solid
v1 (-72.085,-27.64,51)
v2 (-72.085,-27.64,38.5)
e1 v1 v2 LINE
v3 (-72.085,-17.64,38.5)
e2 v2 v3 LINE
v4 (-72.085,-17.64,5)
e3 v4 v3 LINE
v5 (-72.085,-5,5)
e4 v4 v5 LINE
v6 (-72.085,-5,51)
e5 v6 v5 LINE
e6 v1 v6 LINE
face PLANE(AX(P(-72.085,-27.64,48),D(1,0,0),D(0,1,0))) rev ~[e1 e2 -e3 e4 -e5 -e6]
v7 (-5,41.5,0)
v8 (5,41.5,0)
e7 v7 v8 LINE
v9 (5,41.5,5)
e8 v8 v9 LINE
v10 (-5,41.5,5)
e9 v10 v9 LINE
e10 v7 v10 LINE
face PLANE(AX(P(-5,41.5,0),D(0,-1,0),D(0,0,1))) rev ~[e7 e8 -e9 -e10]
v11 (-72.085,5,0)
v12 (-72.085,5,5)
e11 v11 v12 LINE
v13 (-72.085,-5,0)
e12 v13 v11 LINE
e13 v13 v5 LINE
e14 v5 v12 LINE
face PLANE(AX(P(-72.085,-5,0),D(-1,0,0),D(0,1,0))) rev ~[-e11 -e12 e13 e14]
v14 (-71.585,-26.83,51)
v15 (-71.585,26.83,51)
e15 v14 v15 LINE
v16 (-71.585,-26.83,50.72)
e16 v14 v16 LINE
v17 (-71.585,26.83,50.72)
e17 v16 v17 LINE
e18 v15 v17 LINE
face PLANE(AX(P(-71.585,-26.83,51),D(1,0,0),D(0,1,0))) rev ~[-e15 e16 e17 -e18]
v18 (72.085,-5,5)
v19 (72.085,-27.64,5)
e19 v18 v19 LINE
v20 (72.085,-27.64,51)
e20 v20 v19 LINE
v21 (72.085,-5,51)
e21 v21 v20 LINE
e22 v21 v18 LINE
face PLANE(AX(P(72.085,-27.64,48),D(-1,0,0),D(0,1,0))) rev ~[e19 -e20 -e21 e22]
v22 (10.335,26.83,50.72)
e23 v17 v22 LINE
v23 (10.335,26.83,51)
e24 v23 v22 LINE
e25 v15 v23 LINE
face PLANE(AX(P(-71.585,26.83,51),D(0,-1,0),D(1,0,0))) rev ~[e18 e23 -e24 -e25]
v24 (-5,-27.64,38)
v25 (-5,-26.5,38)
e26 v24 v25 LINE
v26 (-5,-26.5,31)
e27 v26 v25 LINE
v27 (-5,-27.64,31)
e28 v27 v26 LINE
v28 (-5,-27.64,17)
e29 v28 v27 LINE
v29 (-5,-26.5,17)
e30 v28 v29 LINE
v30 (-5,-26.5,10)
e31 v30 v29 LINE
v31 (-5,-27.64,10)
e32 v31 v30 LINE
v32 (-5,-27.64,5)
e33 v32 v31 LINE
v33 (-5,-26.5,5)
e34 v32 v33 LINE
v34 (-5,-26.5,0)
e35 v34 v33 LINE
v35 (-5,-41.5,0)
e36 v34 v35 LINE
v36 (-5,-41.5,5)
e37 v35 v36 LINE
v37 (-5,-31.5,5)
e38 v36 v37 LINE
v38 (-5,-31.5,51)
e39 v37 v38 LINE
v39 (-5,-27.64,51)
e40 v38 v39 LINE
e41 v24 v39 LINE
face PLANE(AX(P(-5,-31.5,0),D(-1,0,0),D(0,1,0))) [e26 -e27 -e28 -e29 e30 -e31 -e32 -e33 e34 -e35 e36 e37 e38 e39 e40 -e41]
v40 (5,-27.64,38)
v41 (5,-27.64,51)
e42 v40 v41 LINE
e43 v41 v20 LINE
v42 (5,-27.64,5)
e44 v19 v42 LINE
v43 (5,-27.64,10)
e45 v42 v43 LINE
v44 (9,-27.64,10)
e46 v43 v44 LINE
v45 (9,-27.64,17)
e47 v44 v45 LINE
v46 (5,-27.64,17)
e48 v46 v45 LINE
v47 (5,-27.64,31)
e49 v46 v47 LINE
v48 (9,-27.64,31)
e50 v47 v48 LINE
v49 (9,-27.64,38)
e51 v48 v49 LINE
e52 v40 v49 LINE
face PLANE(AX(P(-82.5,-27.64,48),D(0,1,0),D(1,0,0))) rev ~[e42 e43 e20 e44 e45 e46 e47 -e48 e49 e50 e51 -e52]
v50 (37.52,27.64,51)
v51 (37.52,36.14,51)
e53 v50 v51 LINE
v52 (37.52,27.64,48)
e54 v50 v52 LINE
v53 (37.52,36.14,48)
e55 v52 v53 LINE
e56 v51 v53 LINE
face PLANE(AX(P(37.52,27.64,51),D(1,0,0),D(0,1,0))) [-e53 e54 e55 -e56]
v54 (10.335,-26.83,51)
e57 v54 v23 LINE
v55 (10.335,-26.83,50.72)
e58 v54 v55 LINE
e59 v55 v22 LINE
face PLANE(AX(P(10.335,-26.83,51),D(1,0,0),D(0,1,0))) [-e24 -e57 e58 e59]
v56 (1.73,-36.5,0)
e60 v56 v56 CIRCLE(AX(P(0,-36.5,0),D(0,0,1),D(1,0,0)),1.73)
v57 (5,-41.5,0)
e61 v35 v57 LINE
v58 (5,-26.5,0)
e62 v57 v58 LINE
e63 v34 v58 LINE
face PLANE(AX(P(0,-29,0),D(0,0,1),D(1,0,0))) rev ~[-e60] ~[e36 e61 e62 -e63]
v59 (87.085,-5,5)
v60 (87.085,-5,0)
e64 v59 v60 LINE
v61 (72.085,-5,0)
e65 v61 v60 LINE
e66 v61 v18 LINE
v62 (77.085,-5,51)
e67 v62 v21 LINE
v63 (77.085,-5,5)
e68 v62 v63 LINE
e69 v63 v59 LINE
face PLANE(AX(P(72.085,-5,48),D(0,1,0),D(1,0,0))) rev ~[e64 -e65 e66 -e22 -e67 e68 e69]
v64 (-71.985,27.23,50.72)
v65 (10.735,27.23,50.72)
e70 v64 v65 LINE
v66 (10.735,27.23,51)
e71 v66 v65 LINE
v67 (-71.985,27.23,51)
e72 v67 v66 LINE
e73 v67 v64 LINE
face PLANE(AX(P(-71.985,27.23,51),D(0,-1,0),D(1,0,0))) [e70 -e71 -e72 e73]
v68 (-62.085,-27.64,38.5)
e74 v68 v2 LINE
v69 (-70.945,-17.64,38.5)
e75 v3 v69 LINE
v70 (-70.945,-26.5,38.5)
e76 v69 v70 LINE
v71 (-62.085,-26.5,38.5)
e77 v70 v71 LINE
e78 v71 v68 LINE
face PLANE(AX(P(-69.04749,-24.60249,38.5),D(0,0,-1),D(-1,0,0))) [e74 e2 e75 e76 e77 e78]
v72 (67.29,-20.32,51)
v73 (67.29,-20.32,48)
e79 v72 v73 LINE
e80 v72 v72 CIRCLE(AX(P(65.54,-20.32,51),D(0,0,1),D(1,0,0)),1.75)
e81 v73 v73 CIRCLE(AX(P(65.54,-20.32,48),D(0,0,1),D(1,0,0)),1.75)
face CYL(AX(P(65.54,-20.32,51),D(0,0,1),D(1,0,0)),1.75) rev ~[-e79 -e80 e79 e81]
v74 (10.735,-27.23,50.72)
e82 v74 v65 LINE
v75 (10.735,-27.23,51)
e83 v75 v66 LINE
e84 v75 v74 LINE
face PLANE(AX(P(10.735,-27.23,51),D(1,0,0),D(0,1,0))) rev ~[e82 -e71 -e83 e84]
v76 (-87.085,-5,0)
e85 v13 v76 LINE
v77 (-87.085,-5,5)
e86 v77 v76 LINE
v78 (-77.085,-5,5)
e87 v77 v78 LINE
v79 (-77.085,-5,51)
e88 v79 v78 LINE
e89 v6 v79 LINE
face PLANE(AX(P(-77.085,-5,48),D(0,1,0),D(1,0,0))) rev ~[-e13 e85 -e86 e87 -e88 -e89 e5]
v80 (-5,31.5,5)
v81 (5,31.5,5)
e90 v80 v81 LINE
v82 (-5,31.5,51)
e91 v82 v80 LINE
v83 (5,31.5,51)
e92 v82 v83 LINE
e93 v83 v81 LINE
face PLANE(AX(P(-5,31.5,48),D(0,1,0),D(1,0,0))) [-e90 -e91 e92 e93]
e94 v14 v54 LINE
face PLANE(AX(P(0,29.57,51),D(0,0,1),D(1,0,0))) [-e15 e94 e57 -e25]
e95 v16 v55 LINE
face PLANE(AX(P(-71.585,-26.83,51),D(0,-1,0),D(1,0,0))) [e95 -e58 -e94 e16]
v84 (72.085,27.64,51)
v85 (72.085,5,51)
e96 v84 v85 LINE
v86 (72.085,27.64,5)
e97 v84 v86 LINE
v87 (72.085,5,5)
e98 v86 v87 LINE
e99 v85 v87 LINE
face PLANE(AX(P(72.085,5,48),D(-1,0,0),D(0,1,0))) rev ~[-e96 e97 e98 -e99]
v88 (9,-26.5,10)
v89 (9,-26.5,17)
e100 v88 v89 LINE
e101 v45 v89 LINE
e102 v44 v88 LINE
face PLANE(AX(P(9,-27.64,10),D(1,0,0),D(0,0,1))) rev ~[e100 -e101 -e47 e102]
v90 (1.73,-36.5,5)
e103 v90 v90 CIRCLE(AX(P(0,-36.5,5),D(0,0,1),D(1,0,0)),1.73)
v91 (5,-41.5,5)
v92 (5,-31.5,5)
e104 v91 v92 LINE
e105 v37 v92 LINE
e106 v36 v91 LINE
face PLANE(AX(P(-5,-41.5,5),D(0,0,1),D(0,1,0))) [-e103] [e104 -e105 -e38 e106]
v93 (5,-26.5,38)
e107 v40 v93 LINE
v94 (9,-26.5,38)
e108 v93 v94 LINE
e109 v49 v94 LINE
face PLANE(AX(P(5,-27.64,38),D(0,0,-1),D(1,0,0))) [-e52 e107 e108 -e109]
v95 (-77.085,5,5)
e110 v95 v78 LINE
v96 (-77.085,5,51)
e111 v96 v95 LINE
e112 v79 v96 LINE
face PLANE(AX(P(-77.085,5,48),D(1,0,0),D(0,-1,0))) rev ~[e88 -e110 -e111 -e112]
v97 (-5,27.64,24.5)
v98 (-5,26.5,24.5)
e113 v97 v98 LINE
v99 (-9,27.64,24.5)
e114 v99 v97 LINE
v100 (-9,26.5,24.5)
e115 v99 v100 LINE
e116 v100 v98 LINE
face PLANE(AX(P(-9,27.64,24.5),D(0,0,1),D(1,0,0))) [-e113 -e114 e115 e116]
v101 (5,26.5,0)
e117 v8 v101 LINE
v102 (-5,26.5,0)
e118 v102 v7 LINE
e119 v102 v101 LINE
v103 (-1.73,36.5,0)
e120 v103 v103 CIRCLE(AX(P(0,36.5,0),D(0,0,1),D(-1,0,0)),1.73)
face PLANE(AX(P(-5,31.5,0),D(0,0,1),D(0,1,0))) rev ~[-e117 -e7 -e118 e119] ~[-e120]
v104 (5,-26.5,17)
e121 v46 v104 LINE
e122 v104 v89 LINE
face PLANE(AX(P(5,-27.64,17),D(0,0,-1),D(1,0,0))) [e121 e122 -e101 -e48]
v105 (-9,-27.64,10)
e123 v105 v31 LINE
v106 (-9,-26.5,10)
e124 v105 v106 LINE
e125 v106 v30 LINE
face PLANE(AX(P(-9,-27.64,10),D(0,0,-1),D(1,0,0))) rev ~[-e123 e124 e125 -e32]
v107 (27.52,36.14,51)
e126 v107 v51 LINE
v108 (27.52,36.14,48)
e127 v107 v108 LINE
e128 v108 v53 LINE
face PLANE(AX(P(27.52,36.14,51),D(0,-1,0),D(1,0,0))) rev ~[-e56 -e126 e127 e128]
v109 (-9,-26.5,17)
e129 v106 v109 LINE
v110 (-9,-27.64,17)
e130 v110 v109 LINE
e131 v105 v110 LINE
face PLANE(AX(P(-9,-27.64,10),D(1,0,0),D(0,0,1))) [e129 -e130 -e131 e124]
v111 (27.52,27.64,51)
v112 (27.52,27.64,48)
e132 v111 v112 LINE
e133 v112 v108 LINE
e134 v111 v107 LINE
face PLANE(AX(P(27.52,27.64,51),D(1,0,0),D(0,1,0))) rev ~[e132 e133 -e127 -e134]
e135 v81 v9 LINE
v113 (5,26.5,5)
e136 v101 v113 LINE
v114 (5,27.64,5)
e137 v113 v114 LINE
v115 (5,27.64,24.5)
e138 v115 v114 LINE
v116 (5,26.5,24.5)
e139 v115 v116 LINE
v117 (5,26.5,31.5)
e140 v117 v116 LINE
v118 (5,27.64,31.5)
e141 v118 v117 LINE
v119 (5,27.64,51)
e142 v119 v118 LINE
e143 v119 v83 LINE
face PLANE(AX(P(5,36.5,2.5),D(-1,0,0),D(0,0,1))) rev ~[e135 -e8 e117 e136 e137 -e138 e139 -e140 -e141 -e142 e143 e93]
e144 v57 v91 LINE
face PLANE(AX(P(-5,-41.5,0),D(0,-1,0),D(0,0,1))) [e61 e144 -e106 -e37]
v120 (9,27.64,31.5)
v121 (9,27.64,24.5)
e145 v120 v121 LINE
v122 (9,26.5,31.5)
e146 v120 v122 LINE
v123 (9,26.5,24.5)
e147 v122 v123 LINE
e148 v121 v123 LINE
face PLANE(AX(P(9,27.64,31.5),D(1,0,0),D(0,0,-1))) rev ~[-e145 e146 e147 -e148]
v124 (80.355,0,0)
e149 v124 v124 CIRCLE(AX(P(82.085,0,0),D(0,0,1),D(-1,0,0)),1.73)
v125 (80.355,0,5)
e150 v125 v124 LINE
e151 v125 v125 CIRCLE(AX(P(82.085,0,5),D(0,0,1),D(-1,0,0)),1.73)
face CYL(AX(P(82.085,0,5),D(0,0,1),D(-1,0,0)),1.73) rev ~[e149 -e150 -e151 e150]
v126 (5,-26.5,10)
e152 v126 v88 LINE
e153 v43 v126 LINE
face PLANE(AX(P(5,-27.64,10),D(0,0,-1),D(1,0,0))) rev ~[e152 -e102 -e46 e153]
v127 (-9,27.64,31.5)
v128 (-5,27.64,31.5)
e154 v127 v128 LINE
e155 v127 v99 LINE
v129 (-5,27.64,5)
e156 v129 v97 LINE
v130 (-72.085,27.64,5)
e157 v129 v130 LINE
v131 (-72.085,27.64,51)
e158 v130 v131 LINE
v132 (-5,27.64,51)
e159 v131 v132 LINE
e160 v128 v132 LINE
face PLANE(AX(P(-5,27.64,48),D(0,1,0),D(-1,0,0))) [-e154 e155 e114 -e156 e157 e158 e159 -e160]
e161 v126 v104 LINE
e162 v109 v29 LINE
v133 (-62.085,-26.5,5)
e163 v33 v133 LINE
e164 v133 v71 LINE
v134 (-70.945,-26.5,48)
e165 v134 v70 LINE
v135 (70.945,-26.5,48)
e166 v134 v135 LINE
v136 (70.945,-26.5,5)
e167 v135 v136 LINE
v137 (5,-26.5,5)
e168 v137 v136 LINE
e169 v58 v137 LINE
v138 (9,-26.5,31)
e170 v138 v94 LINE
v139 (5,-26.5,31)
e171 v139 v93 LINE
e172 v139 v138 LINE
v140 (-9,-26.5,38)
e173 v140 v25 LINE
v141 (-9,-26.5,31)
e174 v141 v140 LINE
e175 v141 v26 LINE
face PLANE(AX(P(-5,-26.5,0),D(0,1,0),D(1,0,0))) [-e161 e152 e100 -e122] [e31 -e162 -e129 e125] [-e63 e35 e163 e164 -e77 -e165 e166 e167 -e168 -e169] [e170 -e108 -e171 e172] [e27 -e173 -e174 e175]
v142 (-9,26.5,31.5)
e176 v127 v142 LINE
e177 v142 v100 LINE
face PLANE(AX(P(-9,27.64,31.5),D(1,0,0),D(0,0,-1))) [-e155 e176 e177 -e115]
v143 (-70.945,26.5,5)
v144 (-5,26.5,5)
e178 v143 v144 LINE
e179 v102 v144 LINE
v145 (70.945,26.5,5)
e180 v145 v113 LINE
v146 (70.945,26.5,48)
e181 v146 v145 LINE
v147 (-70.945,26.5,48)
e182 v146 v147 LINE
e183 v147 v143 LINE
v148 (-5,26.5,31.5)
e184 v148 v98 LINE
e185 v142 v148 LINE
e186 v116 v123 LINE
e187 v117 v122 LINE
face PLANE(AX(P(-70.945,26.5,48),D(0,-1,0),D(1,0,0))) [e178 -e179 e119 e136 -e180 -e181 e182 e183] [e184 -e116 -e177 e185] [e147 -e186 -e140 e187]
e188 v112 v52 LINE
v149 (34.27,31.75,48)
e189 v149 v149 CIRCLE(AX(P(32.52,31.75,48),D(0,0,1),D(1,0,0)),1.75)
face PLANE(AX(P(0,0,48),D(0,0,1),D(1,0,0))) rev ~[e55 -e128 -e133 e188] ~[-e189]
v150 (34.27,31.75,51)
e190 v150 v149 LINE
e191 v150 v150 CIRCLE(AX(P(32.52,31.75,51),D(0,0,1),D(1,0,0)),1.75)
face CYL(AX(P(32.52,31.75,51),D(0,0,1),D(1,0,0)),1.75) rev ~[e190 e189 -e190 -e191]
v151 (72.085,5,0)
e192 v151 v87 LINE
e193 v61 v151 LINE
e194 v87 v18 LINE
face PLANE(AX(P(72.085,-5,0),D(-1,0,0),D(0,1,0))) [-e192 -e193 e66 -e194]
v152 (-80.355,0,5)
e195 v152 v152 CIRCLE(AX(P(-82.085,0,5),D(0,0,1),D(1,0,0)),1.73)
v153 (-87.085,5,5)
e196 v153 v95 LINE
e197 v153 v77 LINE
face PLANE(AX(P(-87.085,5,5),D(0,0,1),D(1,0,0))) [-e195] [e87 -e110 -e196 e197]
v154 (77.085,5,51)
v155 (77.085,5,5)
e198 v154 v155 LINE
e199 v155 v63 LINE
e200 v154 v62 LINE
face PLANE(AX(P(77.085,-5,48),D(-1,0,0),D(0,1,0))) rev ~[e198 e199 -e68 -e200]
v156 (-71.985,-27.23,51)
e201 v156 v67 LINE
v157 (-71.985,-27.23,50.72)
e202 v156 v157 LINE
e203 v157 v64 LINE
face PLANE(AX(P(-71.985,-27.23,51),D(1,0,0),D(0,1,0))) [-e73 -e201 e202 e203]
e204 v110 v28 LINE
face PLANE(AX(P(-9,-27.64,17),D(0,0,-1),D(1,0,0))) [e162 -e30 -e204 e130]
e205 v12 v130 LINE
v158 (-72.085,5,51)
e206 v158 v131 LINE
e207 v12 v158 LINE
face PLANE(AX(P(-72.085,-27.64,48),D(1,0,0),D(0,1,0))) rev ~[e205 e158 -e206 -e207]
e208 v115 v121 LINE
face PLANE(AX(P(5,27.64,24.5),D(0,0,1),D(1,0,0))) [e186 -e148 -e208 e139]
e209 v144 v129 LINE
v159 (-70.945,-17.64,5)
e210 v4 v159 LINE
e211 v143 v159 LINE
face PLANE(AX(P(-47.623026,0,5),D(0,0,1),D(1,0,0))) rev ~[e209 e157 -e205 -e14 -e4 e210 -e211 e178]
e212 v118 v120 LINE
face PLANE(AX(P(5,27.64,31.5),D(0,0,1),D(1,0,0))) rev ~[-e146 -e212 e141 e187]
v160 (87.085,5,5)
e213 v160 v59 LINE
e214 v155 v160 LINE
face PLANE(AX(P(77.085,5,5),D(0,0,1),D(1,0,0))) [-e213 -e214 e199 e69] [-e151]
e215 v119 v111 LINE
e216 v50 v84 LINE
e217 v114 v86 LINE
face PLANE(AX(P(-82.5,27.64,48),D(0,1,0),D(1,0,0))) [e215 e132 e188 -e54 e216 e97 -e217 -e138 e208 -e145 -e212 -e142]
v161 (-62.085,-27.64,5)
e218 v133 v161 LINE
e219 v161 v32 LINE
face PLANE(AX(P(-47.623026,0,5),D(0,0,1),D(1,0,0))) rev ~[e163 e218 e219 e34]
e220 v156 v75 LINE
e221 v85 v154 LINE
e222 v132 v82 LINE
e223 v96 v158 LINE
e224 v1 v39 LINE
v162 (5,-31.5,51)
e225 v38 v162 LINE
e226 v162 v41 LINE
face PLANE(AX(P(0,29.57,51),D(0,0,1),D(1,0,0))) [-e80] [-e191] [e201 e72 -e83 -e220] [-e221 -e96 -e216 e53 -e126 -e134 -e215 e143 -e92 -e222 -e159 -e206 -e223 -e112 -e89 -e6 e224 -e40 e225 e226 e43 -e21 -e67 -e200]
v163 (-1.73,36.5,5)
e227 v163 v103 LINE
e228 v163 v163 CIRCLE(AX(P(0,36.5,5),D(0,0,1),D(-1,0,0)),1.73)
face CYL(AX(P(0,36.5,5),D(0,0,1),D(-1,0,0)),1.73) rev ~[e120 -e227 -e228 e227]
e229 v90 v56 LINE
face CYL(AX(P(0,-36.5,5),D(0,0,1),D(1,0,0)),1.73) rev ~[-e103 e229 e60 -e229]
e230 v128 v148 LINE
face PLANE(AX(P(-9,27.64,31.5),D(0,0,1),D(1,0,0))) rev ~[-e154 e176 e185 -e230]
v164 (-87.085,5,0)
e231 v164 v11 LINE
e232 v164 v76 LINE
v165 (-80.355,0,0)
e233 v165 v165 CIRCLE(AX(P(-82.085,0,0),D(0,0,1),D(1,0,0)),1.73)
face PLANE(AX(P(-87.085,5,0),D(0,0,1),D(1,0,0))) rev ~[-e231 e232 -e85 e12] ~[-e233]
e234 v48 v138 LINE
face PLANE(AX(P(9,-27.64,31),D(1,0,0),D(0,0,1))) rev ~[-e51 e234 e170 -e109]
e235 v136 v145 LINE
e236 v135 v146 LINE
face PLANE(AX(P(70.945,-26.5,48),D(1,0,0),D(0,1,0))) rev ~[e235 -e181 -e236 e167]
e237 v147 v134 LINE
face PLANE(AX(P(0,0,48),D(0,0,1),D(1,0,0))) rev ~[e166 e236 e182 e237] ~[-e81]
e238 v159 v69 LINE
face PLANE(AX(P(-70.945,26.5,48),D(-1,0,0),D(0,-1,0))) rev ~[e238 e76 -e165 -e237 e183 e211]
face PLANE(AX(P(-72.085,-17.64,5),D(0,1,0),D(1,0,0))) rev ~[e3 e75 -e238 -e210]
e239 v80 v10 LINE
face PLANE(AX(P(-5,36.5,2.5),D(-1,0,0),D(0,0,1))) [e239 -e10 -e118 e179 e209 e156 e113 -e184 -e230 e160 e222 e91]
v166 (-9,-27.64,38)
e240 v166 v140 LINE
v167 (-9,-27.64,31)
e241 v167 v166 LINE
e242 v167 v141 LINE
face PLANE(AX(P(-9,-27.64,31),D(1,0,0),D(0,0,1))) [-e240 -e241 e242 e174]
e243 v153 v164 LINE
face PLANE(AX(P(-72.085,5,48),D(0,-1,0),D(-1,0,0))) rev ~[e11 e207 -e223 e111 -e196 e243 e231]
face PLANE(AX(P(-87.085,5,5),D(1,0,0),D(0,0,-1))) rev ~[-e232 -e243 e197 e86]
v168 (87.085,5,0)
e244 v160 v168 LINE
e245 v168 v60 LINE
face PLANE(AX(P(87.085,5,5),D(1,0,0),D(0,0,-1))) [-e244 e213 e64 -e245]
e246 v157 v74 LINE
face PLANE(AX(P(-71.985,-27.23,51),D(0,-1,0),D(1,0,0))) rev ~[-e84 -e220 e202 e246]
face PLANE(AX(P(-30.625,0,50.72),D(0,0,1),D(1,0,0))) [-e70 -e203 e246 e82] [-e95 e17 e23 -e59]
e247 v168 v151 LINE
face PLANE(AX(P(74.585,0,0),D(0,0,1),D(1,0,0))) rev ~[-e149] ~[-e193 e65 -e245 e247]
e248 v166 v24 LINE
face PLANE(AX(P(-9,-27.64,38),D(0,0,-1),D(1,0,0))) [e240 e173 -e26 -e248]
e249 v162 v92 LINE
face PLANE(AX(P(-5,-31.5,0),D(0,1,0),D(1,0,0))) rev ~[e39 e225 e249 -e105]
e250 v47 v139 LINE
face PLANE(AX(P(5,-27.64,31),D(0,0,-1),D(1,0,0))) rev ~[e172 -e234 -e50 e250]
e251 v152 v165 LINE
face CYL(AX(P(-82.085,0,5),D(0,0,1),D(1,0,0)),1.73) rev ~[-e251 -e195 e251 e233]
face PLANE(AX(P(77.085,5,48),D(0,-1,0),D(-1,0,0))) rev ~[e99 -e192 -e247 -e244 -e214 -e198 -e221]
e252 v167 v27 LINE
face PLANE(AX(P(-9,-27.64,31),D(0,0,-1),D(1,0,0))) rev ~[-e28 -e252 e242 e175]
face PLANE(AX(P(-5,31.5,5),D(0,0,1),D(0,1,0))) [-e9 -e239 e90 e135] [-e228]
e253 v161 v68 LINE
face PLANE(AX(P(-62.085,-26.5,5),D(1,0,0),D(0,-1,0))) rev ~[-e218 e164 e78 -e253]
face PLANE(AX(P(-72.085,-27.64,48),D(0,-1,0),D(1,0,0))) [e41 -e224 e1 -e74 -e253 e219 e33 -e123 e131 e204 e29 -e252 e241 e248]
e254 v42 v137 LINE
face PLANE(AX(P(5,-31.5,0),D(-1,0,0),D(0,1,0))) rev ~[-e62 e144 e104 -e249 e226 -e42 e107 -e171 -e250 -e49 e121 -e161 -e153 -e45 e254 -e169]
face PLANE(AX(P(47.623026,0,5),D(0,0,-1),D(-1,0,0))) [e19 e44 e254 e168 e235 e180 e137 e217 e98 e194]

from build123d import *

# Parameters (mm, degrees)
SKETCH2_W             = 5
SKETCH2_H             = 10
BOSS_EXTRUDE1_DEPTH   = 48
SKETCH2_W_2           = 10
SKETCH2_H_2           = 5
BOSS_EXTRUDE1_2_DEPTH = 48
BOSS_EXTRUDE1_3_DEPTH = 48
BOSS_EXTRUDE1_4_DEPTH = 48
SKETCH3_W             = 165
SKETCH3_H             = 55.28
BOSS_EXTRUDE2_DEPTH   = 3
SKETCH4_W             = 10
SKETCH4_H             = 3.86
BOSS_EXTRUDE3_DEPTH   = 3
SKETCH5_W             = 10
SKETCH5_H             = 5
BOSS_EXTRUDE4_DEPTH   = 10
SKETCH7_W             = 5
SKETCH7_H             = 10
BOSS_EXTRUDE5_DEPTH   = 10
SKETCH8_R             = 1.73
CUT_EXTRUDE1_DEPTH    = 107.873978241
SKETCH10_W            = 10
SKETCH10_H            = 8.5
SKETCH10_W_2          = 1.85
SKETCH10_H_2          = 10
BOSS_EXTRUDE6_DEPTH   = 3
SKETCH11_R            = 1.75
CUT_EXTRUDE3_DEPTH    = 110.119417268
SKETCH12_W            = 82.72
SKETCH12_H            = 54.46
SKETCH12_W_2          = 81.92
SKETCH12_H_2          = 53.66
CUT_EXTRUDE4_DEPTH    = 0.28
CUT_EXTRUDE5_DEPTH    = 108.749929118
BOSS_EXTRUDE7_DEPTH   = 43
CUT_EXTRUDE6_DEPTH    = 33.5
SKETCH16_W            = 4
SKETCH16_H            = 7
CUT_EXTRUDE7_DEPTH    = 1.14
SKETCH17_W            = 4
SKETCH17_H            = 7
CUT_EXTRUDE8_DEPTH    = 1.14


with BuildPart() as part:
    # Sketch2 → Boss-Extrude1 (new body)
    with BuildSketch(Plane.XY):
        with Locations((-74.585, 0)):
            Rectangle(SKETCH2_W, SKETCH2_H)
    extrude(amount=BOSS_EXTRUDE1_DEPTH)



with BuildPart() as body_2:
    # Sketch2 → Boss-Extrude1 2 (new body)
    with BuildSketch(Plane.XY):
        with Locations((0, 29)):
            Rectangle(SKETCH2_W_2, SKETCH2_H_2)
    extrude(amount=BOSS_EXTRUDE1_2_DEPTH)


with BuildPart() as body_3:
    # Sketch2 → Boss-Extrude1 3 (new body)
    with BuildSketch(Plane.XY):
        with Locations((74.585, 0)):
            Rectangle(SKETCH2_W, SKETCH2_H)
    extrude(amount=BOSS_EXTRUDE1_3_DEPTH)


with BuildPart() as body_4:
    # Sketch2 → Boss-Extrude1 4 (new body)
    with BuildSketch(Plane.XY):
        with Locations((0, -29)):
            Rectangle(SKETCH2_W_2, SKETCH2_H_2)
    extrude(amount=BOSS_EXTRUDE1_4_DEPTH)


with BuildPart() as part_1:
    add(part.part)

    add(body_2.part)  # Boss-Extrude2 merges body 2

    add(body_3.part)  # Boss-Extrude2 merges body 3

    add(body_4.part)  # Boss-Extrude2 merges body 4
    # Sketch3 → Boss-Extrude2 (add)
    with BuildSketch(Plane.XY.offset(48)):
        Rectangle(SKETCH3_W, SKETCH3_H)
    extrude(amount=BOSS_EXTRUDE2_DEPTH)

    # Sketch4 → Boss-Extrude3 (add)
    with BuildSketch(Plane.XY.offset(48)):
        with Locations((0, 29.57)):
            Rectangle(SKETCH4_W, SKETCH4_H)
        with Locations((0, -29.57)):
            Rectangle(SKETCH4_W, SKETCH4_H)
    extrude(amount=BOSS_EXTRUDE3_DEPTH)

    # Sketch5 → Boss-Extrude4 (add)
    with BuildSketch(Plane(origin=(0, 5, 0), x_dir=(1, 0, 0), z_dir=(0, 1, 0))):
        with Locations((-82.085, -2.5)):
            Rectangle(SKETCH5_W, SKETCH5_H)
        with Locations((82.085, -2.5)):
            Rectangle(SKETCH5_W, SKETCH5_H)
    extrude(amount=-BOSS_EXTRUDE4_DEPTH)

    # Sketch7 → Boss-Extrude5 (add)
    with BuildSketch(Plane.ZY.offset(5)):
        with Locations((2.5, 36.5)):
            Rectangle(SKETCH7_W, SKETCH7_H)
        with Locations((2.5, -36.5)):
            Rectangle(SKETCH7_W, SKETCH7_H)
    extrude(amount=-BOSS_EXTRUDE5_DEPTH)

    # Sketch8 → Cut-Extrude1 (cut, through all)
    with BuildSketch(Plane.XY.offset(5)):
        with Locations((-82.085, 0)):
            Circle(SKETCH8_R)
        with Locations((0, -36.5)):
            Circle(SKETCH8_R)
        with Locations(Location((82.085, 0, 0), (0, 0, 180))):
            Circle(SKETCH8_R)
        with Locations(Location((0, 36.5, 0), (0, 0, 180))):
            Circle(SKETCH8_R)
    extrude(amount=-CUT_EXTRUDE1_DEPTH, mode=Mode.SUBTRACT)

    # Sketch10 → Boss-Extrude6 (add)
    with BuildSketch(Plane.XY.offset(51)):
        with Locations((32.52, 31.89)):
            Rectangle(SKETCH10_W, SKETCH10_H)
        with Locations((69.005, -20.32)):
            Rectangle(SKETCH10_W_2, SKETCH10_H_2)
    extrude(amount=-BOSS_EXTRUDE6_DEPTH)

    # Sketch11 → Cut-Extrude3 (cut, through all)
    with BuildSketch(Plane.XY.offset(51)):
        with Locations((32.52, 31.75)):
            Circle(SKETCH11_R)
        with Locations((65.54, -20.32)):
            Circle(SKETCH11_R)
    extrude(amount=-CUT_EXTRUDE3_DEPTH, mode=Mode.SUBTRACT)

    # Sketch12 → Cut-Extrude4 (cut)
    with BuildSketch(Plane.XY.offset(51)):
        with Locations((-30.625, 0)):
            Rectangle(SKETCH12_W, SKETCH12_H)
        with Locations((-30.625, 0)):
            Rectangle(SKETCH12_W_2, SKETCH12_H_2, mode=Mode.SUBTRACT)
    extrude(amount=-CUT_EXTRUDE4_DEPTH, mode=Mode.SUBTRACT)

    # Sketch13 → Cut-Extrude5 (cut, through all)
    with BuildSketch(Plane(origin=(0, 0, 48), x_dir=(-1, 0, 0), z_dir=(0, 0, -1))):
        Polygon((82.5, -27.64), (82.5, 27.64), (72.085, 27.64), (72.085, 5), (77.085, 5), (77.085, -5), (72.085, -5), (72.085, -27.64), align=None)
        Polygon((-82.5, 27.64), (-82.5, -27.64), (-72.085, -27.64), (-72.085, -5), (-77.085, -5), (-77.085, 5), (-72.085, 5), (-72.085, 27.64), align=None)
    extrude(amount=-CUT_EXTRUDE5_DEPTH, mode=Mode.SUBTRACT)

    # Sketch14 → Boss-Extrude7 (add)
    with BuildSketch(Plane(origin=(0, 0, 48), x_dir=(-1, 0, 0), z_dir=(0, 0, -1))):
        Polygon((72.085, -27.64), (5, -27.64), (5, -26.5), (70.945, -26.5), (70.945, -5), (70.945, 5), (70.945, 26.5), (5, 26.5), (5, 27.64), (72.085, 27.64), (72.085, 5), (72.085, -5), align=None)
        Polygon((-72.085, 5), (-72.085, -5), (-72.085, -27.64), (-5, -27.64), (-5, -26.5), (-70.945, -26.5), (-70.945, -5), (-70.945, 5), (-70.945, 26.5), (-37.52, 26.5), (-27.52, 26.5), (-5, 26.5), (-5, 27.64), (-27.52, 27.64), (-37.52, 27.64), (-72.085, 27.64), align=None)
    extrude(amount=BOSS_EXTRUDE7_DEPTH)

    # Sketch15 → Cut-Extrude6 (cut)
    with BuildSketch(Plane(origin=(0, 0, 5), x_dir=(-1, 0, 0), z_dir=(0, 0, -1))):
        Polygon((72.085, -17.64), (70.945, -17.64), (70.945, -26.5), (62.085, -26.5), (62.085, -27.64), (72.085, -27.64), align=None)
    extrude(amount=-CUT_EXTRUDE6_DEPTH, mode=Mode.SUBTRACT)

    # Sketch16 → Cut-Extrude7 (cut)
    with BuildSketch(Plane.XZ.offset(27.64)):
        with Locations((7, 34.5)):
            Rectangle(SKETCH16_W, SKETCH16_H)
        with Locations((7, 13.5)):
            Rectangle(SKETCH16_W, SKETCH16_H)
        with Locations((-7, 13.5)):
            Rectangle(SKETCH16_W, SKETCH16_H)
        with Locations((-7, 34.5)):
            Rectangle(SKETCH16_W, SKETCH16_H)
    extrude(amount=-CUT_EXTRUDE7_DEPTH, mode=Mode.SUBTRACT)

    # Sketch17 → Cut-Extrude8 (cut)
    with BuildSketch(Plane(origin=(0, 27.64, 0), x_dir=(1, 0, 0), z_dir=(0, 1, 0))):
        with Locations((7, -28)):
            Rectangle(SKETCH17_W, SKETCH17_H)
        with Locations((-7, -28)):
            Rectangle(SKETCH17_W, SKETCH17_H)
    extrude(amount=-CUT_EXTRUDE8_DEPTH, mode=Mode.SUBTRACT)


solid = part_1.part
